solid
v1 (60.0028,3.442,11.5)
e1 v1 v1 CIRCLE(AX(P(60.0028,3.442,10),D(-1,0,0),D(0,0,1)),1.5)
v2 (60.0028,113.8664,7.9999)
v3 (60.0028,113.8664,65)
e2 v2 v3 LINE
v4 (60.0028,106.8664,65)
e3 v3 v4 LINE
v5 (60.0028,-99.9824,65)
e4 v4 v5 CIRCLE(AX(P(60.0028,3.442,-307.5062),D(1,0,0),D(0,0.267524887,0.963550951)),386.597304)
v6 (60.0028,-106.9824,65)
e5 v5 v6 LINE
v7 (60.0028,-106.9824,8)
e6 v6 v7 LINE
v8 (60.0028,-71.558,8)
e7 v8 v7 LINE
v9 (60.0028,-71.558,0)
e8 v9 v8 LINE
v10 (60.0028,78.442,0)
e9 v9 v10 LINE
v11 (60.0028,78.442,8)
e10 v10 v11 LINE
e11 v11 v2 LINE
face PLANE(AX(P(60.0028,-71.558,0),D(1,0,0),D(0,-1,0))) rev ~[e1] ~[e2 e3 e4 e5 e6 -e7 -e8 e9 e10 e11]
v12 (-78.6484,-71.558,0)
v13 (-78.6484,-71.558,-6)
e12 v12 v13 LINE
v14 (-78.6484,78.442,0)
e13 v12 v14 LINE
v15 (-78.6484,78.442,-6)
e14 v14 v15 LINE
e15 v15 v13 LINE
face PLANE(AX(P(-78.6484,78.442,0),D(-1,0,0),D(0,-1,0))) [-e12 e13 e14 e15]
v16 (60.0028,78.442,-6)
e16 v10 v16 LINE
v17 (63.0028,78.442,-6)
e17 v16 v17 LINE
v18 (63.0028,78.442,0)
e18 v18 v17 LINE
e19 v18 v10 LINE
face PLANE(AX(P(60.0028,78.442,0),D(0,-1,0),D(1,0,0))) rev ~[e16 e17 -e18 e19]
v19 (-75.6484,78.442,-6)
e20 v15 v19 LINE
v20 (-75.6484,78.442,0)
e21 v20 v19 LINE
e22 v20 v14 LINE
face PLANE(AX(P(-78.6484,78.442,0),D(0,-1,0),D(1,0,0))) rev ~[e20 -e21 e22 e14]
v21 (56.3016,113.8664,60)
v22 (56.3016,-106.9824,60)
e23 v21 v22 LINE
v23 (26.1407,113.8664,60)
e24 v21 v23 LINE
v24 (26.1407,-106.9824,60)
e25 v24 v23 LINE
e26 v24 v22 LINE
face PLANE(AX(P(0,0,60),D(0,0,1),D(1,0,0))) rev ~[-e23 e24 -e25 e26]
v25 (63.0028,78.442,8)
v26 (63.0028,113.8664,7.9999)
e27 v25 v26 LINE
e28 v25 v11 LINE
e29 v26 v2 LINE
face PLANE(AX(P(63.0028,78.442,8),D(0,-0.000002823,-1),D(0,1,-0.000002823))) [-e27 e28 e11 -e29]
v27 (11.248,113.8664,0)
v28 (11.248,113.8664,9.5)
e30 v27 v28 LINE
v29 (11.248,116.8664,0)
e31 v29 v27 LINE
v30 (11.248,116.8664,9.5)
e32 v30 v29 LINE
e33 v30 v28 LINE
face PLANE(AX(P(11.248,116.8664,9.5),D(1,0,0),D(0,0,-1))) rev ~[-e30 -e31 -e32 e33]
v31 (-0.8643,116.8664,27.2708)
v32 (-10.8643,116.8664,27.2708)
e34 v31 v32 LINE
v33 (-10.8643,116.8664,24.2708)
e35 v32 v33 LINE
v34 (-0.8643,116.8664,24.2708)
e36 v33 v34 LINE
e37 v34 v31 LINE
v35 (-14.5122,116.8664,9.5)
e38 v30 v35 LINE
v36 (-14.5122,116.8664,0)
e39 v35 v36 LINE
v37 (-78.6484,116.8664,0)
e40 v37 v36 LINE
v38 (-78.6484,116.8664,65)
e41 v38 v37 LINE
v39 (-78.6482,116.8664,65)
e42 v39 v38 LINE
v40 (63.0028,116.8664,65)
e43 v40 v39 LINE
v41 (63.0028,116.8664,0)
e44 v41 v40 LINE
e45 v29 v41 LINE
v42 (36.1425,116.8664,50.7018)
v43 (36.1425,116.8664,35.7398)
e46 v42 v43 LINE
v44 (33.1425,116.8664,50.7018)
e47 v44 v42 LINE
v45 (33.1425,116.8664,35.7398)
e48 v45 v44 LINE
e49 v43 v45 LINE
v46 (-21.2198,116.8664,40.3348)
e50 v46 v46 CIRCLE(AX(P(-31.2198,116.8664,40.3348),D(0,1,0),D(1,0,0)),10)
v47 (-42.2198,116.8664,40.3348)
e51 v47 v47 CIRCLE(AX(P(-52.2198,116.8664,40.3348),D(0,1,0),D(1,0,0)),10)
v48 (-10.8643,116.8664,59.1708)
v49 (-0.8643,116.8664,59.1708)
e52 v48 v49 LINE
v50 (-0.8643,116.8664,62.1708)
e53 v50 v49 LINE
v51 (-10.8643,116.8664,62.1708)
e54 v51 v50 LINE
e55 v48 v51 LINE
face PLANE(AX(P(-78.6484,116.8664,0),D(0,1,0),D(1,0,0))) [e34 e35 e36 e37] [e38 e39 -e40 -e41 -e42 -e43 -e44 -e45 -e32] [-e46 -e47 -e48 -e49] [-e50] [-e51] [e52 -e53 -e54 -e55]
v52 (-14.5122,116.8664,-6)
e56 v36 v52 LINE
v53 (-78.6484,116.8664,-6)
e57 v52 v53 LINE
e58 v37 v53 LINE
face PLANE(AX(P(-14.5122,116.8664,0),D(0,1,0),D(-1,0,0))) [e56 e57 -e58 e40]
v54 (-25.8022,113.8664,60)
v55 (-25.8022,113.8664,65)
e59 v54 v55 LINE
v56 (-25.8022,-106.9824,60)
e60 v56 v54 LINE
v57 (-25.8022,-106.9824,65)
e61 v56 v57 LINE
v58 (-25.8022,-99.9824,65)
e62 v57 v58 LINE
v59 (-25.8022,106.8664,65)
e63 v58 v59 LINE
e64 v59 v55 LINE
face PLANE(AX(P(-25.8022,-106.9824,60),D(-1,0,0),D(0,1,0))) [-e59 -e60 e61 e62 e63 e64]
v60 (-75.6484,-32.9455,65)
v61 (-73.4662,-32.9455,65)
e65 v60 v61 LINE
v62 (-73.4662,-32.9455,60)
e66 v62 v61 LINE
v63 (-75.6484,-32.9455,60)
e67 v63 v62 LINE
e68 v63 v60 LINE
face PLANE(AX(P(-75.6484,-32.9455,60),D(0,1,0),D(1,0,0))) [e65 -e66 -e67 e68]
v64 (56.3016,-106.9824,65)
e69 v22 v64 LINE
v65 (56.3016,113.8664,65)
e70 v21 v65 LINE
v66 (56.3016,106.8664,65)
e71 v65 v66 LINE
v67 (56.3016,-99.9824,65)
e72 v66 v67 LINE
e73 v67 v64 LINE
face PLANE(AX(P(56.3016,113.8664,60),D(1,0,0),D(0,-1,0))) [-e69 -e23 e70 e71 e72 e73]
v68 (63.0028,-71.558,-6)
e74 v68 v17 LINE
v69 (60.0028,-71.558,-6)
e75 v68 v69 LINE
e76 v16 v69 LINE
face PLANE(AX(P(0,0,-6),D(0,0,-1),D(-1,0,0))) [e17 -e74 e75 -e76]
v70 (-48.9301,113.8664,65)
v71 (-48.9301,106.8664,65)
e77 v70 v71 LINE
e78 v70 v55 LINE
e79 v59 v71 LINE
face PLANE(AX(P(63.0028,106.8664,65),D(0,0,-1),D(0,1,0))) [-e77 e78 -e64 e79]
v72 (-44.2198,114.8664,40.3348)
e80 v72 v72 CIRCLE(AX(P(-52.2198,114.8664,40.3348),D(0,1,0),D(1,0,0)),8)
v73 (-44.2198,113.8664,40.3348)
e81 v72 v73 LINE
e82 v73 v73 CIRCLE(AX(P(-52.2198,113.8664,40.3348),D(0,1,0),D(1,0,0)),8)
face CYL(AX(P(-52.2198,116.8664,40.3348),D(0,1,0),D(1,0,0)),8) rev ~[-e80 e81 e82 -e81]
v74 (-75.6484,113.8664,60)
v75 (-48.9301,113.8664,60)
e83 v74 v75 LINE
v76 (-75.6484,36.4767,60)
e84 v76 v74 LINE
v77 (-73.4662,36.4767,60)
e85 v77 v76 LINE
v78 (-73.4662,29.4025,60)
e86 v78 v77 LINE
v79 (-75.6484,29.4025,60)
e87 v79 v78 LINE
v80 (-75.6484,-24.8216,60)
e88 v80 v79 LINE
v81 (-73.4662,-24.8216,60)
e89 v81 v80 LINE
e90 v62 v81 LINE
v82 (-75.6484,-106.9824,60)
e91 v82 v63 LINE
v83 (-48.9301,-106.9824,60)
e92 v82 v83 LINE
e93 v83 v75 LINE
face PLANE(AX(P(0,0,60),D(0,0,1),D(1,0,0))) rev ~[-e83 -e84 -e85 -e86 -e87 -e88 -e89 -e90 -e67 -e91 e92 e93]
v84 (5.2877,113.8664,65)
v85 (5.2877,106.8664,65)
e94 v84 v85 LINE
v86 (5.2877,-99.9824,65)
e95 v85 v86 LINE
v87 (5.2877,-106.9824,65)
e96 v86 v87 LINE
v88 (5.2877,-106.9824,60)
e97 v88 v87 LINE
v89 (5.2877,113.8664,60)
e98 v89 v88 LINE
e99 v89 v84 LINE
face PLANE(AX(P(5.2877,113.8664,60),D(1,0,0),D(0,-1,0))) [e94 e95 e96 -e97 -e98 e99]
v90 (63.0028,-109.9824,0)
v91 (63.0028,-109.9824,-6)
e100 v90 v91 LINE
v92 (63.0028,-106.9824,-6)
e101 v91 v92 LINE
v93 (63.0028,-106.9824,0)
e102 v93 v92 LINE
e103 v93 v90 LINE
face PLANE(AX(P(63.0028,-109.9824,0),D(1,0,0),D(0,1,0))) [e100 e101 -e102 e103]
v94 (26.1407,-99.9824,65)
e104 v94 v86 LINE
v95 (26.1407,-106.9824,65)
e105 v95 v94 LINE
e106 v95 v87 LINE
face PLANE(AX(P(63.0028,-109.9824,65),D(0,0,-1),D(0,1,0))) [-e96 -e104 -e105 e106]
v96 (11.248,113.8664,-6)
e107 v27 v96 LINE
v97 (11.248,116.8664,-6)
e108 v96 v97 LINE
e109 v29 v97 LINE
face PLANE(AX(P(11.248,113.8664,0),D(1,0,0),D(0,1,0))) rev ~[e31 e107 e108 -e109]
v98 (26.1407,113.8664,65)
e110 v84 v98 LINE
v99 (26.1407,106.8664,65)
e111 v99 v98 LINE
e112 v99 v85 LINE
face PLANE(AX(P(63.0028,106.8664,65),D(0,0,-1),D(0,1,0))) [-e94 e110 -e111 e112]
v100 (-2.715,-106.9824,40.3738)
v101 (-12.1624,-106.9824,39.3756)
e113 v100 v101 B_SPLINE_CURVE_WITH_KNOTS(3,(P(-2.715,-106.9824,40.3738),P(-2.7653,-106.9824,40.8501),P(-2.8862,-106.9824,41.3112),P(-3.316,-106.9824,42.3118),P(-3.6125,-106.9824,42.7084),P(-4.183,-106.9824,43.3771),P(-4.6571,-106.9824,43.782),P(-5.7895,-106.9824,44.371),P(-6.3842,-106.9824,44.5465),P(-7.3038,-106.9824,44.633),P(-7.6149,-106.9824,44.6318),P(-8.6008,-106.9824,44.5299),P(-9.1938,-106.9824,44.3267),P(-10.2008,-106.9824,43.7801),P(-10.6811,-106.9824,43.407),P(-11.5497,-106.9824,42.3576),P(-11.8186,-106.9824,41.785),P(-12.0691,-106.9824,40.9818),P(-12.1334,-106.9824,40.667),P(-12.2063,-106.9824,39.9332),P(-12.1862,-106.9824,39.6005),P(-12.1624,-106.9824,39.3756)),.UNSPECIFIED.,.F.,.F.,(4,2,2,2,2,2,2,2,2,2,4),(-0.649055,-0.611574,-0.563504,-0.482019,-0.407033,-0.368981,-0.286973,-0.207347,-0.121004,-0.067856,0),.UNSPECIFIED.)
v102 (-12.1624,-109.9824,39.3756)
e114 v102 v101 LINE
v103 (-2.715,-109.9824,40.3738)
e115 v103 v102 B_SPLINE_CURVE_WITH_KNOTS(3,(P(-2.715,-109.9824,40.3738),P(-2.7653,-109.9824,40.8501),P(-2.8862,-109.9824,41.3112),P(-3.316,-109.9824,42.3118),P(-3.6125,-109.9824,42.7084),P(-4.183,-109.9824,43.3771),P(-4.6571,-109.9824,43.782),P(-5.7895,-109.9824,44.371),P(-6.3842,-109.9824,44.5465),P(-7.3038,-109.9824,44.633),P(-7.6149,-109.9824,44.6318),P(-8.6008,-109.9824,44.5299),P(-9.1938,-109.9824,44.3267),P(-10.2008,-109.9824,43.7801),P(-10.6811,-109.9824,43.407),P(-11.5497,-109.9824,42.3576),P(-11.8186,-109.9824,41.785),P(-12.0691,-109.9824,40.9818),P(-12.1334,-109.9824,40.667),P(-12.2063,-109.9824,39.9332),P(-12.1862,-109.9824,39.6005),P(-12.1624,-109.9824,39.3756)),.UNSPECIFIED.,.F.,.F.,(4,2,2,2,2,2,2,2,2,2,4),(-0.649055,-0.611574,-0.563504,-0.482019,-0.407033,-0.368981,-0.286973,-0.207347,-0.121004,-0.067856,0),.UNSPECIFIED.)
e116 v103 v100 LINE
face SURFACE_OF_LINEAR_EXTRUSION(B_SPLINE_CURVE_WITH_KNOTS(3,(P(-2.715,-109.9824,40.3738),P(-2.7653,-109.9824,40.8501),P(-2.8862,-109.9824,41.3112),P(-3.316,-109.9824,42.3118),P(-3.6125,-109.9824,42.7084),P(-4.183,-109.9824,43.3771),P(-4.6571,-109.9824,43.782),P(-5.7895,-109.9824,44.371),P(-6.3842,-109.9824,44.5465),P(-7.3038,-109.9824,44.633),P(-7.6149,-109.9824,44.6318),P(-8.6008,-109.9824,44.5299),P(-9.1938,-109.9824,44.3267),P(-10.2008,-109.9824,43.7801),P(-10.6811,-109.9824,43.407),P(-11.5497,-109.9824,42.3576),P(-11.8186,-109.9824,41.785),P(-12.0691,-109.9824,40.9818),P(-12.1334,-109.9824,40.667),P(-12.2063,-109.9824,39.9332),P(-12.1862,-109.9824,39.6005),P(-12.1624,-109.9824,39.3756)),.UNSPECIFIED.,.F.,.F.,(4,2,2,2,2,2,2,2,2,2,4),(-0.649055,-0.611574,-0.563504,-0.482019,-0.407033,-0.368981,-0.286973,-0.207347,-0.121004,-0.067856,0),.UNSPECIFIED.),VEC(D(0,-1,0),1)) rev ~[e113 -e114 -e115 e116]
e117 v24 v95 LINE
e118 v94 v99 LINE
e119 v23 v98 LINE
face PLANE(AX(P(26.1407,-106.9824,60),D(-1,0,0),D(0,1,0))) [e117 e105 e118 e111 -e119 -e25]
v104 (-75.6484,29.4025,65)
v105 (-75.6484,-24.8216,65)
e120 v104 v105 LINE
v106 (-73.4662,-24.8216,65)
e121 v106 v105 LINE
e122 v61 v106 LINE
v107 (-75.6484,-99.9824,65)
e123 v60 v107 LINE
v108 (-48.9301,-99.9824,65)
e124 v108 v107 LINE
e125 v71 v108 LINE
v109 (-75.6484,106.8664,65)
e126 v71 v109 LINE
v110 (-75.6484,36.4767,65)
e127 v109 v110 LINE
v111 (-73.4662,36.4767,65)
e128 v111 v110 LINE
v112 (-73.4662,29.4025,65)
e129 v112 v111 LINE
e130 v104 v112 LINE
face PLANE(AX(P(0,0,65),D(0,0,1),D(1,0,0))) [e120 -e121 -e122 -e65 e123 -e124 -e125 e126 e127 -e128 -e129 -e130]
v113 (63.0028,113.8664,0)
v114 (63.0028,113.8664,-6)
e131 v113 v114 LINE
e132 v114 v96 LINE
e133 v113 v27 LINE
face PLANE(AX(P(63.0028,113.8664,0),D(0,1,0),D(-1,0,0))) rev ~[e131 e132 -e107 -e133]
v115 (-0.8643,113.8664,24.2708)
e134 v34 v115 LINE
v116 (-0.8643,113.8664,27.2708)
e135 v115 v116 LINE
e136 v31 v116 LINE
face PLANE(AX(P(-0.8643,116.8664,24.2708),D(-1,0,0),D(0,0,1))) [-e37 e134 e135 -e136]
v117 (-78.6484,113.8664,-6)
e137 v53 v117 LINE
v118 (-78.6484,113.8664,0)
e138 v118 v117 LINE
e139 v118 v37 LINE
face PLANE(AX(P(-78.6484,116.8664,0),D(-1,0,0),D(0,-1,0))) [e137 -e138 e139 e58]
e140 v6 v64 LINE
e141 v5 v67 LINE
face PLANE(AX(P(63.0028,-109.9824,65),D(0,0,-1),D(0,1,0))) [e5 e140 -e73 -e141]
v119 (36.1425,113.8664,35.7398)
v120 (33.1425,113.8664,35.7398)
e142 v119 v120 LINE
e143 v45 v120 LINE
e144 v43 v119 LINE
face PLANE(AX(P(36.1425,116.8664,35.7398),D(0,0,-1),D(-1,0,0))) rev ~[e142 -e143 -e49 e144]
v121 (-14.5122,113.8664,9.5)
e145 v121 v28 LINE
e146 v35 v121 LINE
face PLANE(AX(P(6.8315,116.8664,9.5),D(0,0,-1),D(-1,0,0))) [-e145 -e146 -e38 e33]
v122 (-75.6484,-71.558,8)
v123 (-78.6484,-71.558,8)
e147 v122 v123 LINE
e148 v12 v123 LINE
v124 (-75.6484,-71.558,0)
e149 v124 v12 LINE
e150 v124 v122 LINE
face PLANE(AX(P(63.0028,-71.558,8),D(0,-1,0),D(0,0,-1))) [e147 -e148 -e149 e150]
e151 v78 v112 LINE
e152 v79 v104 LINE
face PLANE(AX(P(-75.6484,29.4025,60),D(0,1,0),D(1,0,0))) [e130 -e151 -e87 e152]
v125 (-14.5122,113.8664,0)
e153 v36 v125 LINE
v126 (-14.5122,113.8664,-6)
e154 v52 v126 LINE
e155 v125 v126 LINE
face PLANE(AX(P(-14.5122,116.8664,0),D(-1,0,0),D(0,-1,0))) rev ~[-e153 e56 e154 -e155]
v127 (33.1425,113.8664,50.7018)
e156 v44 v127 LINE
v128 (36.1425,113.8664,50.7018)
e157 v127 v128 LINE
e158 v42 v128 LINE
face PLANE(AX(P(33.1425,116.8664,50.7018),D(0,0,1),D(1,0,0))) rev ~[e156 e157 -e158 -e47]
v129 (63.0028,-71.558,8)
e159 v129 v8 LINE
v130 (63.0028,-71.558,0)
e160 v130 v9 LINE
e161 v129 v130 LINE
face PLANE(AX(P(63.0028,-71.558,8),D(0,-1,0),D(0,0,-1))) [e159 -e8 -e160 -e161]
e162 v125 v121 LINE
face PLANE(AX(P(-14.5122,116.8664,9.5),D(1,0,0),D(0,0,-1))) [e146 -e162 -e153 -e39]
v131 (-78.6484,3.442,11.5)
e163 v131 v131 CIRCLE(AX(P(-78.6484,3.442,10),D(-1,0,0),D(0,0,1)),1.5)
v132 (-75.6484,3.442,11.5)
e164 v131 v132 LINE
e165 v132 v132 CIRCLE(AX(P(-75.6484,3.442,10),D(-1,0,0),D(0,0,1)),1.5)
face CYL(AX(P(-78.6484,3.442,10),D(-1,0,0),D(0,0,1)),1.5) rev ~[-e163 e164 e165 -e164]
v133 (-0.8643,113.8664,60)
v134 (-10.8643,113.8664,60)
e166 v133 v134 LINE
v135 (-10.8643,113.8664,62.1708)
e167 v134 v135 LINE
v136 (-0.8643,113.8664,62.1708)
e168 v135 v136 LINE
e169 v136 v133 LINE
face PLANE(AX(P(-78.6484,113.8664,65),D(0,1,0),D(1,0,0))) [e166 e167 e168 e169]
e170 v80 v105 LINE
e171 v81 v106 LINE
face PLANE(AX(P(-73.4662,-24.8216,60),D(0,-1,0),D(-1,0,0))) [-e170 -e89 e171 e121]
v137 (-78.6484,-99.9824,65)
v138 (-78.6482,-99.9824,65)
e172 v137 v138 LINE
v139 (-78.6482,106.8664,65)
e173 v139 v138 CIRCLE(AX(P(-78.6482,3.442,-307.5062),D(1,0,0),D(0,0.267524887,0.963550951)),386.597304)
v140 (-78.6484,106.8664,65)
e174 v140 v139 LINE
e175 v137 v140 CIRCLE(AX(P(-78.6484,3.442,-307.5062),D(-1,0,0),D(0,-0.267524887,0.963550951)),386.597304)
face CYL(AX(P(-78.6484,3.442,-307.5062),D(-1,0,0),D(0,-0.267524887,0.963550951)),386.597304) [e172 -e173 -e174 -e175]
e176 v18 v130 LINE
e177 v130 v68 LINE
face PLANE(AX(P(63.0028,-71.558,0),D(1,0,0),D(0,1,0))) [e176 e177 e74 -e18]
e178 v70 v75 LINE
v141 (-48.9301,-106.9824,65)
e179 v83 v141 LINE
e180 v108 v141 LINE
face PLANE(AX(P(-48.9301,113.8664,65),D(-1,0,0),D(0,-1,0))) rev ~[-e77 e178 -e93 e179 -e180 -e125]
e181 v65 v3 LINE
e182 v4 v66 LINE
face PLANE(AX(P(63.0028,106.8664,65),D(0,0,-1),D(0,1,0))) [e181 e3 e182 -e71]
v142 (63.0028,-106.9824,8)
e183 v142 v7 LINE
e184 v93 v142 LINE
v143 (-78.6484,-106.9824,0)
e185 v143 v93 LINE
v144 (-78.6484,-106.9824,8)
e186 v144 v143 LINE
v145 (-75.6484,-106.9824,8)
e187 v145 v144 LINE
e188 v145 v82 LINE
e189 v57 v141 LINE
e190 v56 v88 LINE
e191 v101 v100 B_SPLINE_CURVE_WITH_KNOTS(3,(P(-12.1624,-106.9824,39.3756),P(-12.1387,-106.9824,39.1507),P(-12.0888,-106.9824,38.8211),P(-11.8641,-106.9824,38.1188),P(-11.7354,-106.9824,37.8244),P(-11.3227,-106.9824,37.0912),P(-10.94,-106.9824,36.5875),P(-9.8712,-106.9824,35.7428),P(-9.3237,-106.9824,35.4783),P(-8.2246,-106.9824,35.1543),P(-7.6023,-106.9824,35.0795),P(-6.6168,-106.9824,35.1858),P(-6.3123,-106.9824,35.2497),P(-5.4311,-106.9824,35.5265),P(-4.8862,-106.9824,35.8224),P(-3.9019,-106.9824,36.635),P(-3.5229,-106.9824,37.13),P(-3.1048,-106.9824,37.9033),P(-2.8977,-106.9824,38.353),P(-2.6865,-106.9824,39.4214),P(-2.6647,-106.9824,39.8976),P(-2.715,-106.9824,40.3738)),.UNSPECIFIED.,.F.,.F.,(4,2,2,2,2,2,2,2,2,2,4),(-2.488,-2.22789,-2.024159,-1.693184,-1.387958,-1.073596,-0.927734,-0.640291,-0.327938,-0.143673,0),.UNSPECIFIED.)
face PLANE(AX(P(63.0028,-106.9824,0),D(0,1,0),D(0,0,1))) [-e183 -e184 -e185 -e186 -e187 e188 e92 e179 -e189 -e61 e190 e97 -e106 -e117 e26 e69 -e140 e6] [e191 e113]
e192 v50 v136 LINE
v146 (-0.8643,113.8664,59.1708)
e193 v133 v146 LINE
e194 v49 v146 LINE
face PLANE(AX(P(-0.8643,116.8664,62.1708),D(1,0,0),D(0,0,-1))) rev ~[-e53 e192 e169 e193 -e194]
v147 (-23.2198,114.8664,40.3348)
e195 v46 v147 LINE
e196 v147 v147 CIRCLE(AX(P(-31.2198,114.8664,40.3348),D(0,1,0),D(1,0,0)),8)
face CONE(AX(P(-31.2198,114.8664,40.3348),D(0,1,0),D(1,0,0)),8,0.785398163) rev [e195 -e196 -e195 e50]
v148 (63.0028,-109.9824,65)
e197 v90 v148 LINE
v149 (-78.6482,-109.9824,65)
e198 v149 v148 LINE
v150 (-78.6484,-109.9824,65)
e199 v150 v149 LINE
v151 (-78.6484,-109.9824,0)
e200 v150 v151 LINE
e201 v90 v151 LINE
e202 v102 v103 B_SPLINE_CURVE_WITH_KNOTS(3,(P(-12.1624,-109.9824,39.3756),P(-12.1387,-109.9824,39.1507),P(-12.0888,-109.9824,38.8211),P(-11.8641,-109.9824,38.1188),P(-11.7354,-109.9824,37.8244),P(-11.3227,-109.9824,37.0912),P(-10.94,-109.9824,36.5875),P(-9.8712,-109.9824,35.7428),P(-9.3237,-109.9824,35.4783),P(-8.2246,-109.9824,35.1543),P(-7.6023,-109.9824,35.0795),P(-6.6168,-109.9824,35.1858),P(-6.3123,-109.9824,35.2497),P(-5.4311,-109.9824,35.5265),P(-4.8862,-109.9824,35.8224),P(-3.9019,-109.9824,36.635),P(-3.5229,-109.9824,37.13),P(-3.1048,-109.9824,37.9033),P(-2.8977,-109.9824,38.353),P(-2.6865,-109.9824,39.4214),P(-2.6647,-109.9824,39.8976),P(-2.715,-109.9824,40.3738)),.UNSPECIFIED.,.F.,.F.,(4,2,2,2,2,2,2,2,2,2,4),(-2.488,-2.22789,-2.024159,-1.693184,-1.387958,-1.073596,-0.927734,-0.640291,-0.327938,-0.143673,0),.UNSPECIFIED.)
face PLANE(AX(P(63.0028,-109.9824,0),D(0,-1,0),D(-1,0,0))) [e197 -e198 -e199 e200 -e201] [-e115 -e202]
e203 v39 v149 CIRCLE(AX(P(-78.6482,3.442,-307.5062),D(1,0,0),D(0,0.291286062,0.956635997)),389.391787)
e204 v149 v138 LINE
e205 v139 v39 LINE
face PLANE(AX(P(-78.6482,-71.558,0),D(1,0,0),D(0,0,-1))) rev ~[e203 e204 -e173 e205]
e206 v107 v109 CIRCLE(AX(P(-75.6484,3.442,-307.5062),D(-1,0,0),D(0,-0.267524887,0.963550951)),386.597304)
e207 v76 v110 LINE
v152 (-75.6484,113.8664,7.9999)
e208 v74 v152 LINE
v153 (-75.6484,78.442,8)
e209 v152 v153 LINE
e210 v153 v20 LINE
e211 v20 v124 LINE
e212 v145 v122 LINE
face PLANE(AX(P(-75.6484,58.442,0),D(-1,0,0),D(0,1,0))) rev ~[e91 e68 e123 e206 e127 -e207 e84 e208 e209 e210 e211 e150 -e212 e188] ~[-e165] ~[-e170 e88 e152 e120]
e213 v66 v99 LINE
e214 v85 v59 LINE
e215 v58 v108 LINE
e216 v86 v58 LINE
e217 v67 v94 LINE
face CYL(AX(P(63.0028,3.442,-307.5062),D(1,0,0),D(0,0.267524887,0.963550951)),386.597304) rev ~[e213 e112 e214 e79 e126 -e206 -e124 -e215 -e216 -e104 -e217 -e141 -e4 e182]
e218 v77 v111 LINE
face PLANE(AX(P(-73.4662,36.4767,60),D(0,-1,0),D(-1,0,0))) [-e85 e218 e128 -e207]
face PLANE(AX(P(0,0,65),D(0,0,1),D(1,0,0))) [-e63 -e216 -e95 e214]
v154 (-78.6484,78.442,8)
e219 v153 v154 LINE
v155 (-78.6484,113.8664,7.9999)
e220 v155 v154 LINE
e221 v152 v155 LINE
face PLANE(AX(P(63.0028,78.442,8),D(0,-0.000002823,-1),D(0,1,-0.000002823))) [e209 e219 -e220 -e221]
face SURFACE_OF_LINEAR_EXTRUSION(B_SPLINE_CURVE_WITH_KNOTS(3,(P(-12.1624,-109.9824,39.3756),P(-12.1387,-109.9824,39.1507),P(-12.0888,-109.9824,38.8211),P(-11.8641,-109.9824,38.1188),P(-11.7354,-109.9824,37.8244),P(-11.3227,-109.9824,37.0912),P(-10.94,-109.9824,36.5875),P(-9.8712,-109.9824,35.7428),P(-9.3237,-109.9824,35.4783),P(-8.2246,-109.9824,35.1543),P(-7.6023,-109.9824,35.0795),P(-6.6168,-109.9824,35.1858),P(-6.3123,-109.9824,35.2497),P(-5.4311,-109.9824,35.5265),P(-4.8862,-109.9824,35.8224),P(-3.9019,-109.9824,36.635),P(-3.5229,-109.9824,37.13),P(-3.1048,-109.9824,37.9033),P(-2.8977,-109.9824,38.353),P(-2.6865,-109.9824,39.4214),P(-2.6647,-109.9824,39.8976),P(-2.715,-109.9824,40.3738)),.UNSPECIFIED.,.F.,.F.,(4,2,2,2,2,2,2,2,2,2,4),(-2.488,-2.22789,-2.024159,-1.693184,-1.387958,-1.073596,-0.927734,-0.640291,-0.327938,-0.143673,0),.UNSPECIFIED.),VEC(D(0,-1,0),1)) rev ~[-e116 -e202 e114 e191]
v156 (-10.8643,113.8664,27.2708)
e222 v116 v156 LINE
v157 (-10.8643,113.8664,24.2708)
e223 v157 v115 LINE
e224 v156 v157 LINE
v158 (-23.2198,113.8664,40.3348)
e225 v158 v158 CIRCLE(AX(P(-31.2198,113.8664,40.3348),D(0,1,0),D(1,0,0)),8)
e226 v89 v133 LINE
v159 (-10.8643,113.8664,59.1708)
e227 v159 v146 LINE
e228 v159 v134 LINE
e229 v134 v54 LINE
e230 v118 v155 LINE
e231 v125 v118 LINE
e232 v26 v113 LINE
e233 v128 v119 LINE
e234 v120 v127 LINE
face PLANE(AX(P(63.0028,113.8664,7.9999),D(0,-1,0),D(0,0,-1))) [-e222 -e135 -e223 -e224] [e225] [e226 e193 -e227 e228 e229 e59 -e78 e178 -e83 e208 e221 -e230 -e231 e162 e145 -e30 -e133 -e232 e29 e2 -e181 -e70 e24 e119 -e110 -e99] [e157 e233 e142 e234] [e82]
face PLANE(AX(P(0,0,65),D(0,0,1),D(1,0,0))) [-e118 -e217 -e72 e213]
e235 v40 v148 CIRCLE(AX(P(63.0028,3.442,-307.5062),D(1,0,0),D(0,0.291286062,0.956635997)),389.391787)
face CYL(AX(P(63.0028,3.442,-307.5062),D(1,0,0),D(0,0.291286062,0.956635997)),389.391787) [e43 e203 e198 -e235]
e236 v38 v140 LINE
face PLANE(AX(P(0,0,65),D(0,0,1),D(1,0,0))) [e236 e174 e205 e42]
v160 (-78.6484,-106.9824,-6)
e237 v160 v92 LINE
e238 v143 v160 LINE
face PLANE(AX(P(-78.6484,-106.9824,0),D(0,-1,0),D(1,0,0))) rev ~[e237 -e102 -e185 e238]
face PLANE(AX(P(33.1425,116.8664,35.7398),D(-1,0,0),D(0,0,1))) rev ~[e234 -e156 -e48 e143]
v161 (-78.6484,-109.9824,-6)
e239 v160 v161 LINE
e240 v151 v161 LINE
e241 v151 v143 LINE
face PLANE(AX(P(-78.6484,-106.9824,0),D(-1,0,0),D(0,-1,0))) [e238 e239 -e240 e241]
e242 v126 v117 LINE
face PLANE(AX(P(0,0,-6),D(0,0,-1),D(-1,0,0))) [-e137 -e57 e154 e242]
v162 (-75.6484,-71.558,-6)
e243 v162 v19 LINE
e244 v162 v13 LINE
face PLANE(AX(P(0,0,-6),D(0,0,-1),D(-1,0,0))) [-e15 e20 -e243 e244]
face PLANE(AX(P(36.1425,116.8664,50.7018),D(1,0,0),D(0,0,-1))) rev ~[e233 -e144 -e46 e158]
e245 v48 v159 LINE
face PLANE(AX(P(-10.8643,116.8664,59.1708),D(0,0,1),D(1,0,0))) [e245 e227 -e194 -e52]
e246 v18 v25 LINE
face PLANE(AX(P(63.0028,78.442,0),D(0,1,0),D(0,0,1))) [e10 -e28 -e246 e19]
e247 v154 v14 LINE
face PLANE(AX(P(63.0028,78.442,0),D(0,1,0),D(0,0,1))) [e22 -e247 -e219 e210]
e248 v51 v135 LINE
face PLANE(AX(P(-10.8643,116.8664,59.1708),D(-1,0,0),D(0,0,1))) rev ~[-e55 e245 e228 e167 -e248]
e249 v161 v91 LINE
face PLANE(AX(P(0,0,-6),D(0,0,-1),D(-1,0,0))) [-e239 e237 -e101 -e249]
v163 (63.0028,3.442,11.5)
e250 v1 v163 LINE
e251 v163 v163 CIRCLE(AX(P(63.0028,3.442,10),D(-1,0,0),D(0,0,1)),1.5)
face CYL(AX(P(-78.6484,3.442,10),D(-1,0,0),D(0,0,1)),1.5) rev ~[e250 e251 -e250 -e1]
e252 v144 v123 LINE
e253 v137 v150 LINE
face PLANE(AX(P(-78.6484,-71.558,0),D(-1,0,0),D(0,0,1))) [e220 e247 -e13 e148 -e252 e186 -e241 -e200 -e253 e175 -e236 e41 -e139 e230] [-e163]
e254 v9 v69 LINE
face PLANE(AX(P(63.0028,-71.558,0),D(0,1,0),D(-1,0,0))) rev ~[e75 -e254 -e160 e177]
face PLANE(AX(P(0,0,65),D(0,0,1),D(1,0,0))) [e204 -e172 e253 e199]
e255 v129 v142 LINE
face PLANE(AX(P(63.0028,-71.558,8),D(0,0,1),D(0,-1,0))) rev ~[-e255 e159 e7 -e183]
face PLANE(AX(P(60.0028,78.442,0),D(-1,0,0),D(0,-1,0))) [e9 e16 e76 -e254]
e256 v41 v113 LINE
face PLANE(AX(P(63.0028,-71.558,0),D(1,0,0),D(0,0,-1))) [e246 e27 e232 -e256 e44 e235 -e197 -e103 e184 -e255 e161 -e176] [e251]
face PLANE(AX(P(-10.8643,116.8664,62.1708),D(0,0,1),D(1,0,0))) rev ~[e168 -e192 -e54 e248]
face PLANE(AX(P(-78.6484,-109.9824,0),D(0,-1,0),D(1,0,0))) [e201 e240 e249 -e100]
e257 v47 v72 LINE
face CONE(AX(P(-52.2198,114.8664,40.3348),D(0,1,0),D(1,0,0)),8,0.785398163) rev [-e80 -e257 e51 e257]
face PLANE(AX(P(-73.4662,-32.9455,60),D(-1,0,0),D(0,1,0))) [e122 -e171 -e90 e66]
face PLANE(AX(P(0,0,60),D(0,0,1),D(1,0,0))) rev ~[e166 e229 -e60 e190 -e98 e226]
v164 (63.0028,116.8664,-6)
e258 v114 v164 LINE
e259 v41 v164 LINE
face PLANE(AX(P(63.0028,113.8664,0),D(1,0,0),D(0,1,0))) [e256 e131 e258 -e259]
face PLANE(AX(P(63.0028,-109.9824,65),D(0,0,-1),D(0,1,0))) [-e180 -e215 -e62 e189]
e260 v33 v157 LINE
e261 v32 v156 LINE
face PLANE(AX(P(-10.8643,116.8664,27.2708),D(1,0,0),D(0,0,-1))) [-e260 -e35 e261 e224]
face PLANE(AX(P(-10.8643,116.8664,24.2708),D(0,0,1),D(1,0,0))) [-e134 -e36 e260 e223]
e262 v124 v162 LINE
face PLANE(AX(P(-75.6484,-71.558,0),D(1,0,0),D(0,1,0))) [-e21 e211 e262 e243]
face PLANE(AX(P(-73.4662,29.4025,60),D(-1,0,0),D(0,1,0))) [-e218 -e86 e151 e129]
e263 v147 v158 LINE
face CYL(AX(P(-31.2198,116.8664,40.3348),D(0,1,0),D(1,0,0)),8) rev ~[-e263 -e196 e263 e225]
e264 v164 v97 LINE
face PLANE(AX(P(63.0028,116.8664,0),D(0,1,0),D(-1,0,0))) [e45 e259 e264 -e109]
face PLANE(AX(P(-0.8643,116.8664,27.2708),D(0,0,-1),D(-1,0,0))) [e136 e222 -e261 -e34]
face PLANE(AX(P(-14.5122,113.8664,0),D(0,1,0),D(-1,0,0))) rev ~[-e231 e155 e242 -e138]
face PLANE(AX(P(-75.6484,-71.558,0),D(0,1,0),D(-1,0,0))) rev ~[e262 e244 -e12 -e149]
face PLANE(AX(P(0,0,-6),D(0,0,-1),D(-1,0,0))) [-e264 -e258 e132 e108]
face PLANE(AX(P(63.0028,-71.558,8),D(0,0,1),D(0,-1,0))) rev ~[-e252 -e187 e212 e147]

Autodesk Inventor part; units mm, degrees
ref_plane "YZ Plane" through (0, 0, 0) normal (1, 0, 0) x (0, 1, 0)
ref_plane "XZ Plane" through (0, 0, 0) normal (0, 1, 0) x (-1, 0, 0)
ref_plane "XY Plane" through (0, 0, 0) normal (0, 0, 1) x (1, 0, 0)
sketch "Эскиз1" plane through (0, 0, 0) normal (0, 0, 1) x (1, 0, 0)
  line L0 (-75.6484, -106.9824) -> (60.0028, -106.9824) projected
  line L1 (60.0028, 113.8664) -> (-75.6484, 113.8664) projected
  line L2 (-75.6484, -71.558) -> (-75.6484, 58.442) projected
  line L3 (60.0028, -71.558) -> (60.0028, 78.442) projected
  line L4 (63.0028, -109.9824) -> (-78.6484, -109.9824)
  line L5 (-78.6484, -109.9824) -> (-78.6484, 116.8664)
  line L6 (-78.6484, 116.8664) -> (63.0028, 116.8664)
  line L7 (63.0028, 116.8664) -> (63.0028, -109.9824)
  line L8 (60.0028, -106.9824) -> (-75.6484, -106.9824)
  line L9 (-75.6484, -106.9824) -> (-75.6484, 113.8664)
  line L10 (-75.6484, 113.8664) -> (60.0028, 113.8664)
  line L11 (60.0028, 113.8664) -> (60.0028, -106.9824)
  point P0 (0, 0)
  dimension "d0" = 3
  dimension "d1" = 3
  dimension "d2" = 3
  dimension "d3" = 3
extrude "Выдавливание1" add sketch "Эскиз1" along normal blind 60
sketch "Эскиз2" plane through (63.0028, -109.9824, 0) normal (1, 0, 0) x (0, 0, -1)
  point P0 (0, 109.9824)
sketch "Эскиз3" plane through (0, 0, 0) normal (0, 0, -1) x (-1, 0, 0)
  point P0 (0, 0)
sketch "Эскиз4" plane through (63.0028, -109.9824, 0) normal (1, 0, 0) x (0, 0, -1)
  line L0 (-8, 38.4244) -> (-8, 3) projected
  line L1 (-8, 3) -> (-8, 38.4244) projected
  line L2 (0.0001, 223.8488) -> (0, 188.4244) projected
  line L3 (-8, 188.4244) -> (-7.9999, 223.8488) projected
  line L4 (0, 223.8488) -> (0, 3) projected
  line L5 (-8, 38.4244) -> (0, 38.4244)
  line L6 (0, 38.4244) -> (0, 3)
  line L7 (0, 3) -> (-8, 3)
  line L8 (-8, 3) -> (-8, 38.4244)
  line L9 (-7.9999, 223.8488) -> (0, 223.8488)
  line L10 (0, 223.8488) -> (0, 188.4244)
  line L11 (0, 188.4244) -> (-7.9999, 188.4244)
  line L12 (-7.9999, 188.4244) -> (-7.9999, 223.8488)
  point P0 (0, 109.9824)
extrude "Выдавливание2" cut sketch "Эскиз4" against normal blind 239.25
sketch "Эскиз5" plane through (0, 0, 60) normal (0, 0, 1) x (1, 0, 0)
  line L0 (73.8028, -108.2777) -> (32.8028, -108.2777)
  line L1 (63.0028, 116.8664) -> (-78.6484, 116.8664) projected
  line L2 (-78.6484, 116.8664) -> (-78.6484, -109.9824) projected
  line L3 (-78.6484, -109.9824) -> (63.0028, -109.9824) projected
  line L4 (63.0028, -109.9824) -> (63.0028, 116.8664) projected
  line L5 (60.0028, 113.8664) -> (60.0028, -106.9824) projected
  line L6 (60.0028, -106.9824) -> (-75.6484, -106.9824) projected
  line L7 (-75.6484, -106.9824) -> (-75.6484, 113.8664) projected
  line L8 (-75.6484, 113.8664) -> (60.0028, 113.8664) projected
  line L9 (60.0028, -106.9824) -> (-75.6484, -106.9824) projected
  line L10 (-75.6484, 113.8664) -> (60.0028, 113.8664) projected
  line L11 (56.3016, -106.9824) -> (26.1407, -106.9824)
  line L12 (26.1407, -106.9824) -> (26.1407, 113.8664)
  line L13 (26.1407, 113.8664) -> (56.3016, 113.8664)
  line L14 (56.3016, 113.8664) -> (56.3016, -106.9824)
  line L15 (5.2877, -106.9824) -> (-25.8022, -106.9824)
  line L16 (-25.8022, -106.9824) -> (-25.8022, 113.8664)
  line L17 (-25.8022, 113.8664) -> (5.2877, 113.8664)
  line L18 (5.2877, 113.8664) -> (5.2877, -106.9824)
  line L19 (-48.9301, -106.9824) -> (-75.6484, -106.9824)
  line L20 (-75.6484, -106.9824) -> (-75.6484, 111.5008)
  line L21 (-75.6484, 111.5008) -> (-48.9301, 111.5008)
  line L22 (-48.9301, 111.5008) -> (-48.9301, -106.9824)
  line L23 (-75.6484, -106.9824) -> (-75.6484, 113.8664) projected
  line L24 (-75.6484, -32.9455) -> (-73.4662, -32.9455)
  line L25 (-73.4662, -32.9455) -> (-73.4662, -24.8216)
  line L26 (-73.4662, -24.8216) -> (-75.6484, -24.8216)
  line L27 (-75.6484, -24.8216) -> (-75.6484, -32.9455)
  line L28 (-75.6484, 29.4025) -> (-73.4662, 29.4025)
  line L29 (-73.4662, 29.4025) -> (-73.4662, 36.4767)
  line L30 (-73.4662, 36.4767) -> (-75.6484, 36.4767)
  line L31 (-75.6484, 36.4767) -> (-75.6484, 29.4025)
  point P0 (0, 0)
extrude "Выдавливание3" add sketch "Эскиз5" along normal blind 5 contours L4 L3 L2 L1 | L14 L6 L12 L8 | L18 L6 L16 L8 | L6 L7 L24 L25 L26 L28 L29 L30 L21 L22
sketch "Эскиз6" plane through (0, 0, 65) normal (0, 0, 1) x (1, 0, 0)
  line L0 (-48.9301, 111.5008) -> (-75.6484, 111.5008) projected
  line L1 (-75.6484, 111.5008) -> (-75.6484, 113.8664) projected
  line L2 (-48.9301, 111.5008) -> (-75.6484, 111.5008)
  line L3 (-75.6484, 111.5008) -> (-75.6484, 113.8664)
  line L4 (-75.6484, 113.8664) -> (-48.9301, 113.8664)
  line L5 (-48.9301, 113.8664) -> (-48.9301, 111.5008)
  point P0 (0, 0)
extrude "Выдавливание4" add sketch "Эскиз6" against normal blind 5
sketch "Эскиз7" plane through (-78.6484, -71.558, 0) normal (-1, 0, 0) x (0, 0, 1)
  point P0 (0, 71.558)
sketch "Эскиз8" plane through (-78.6484, 116.8664, 0) normal (0, 1, 0) x (1, 0, 0)
  line L0 (85.4799, -9.5) -> (62.4799, -9.5) projected
  line L1 (74.1362, -4.2225) -> (79.8964, -4.2225) projected
  line L2 (141.6512, 0) -> (0, 0) projected
  line L3 (85.4799, -9.5) -> (64.1362, -9.5)
  line L4 (64.1362, -9.5) -> (64.1362, 0)
  line L5 (64.1362, 0) -> (85.4799, 0)
  line L6 (85.4799, 0) -> (85.4799, -9.5)
  line L7 (64.1362, -9.5) -> (89.8964, -9.5)
  line L8 (89.8964, -9.5) -> (89.8964, 0)
  line L9 (89.8964, 0) -> (64.1362, 0)
  line L10 (64.1362, 0) -> (64.1362, -9.5)
  point P0 (78.6484, 0)
  dimension "d12" = 10
  dimension "d13" = 5.584
  dimension "d14" = 10
extrude "Выдавливание5" cut sketch "Эскиз8" against normal blind 5
sketch "Эскиз9" plane through (63.0028, -71.558, 0) normal (1, 0, 0) x (0, 0, -1)
  line L0 (-65, -38.4244) -> (-65, 188.4244) projected
  arc A0 (-65, 188.4244) -> (-65, -38.4244) centre (307.5062, 75) ccw
  line L1 (0, -38.4244) -> (-65, -38.4244) projected
  line L2 (-65, -38.4244) -> (-65, -28.4244)
  line L3 (-65, -28.4244) -> (-65, 178.4244)
  arc A1 (-65, 178.4244) -> (-65, -28.4244) centre (307.5062, 75) ccw
  point P0 (0, 71.558)
  dimension "d17" = 10
  dimension "d18" = 10
extrude "Выдавливание6" add sketch "Эскиз9" against normal blind 141.651 contours A0 L0 A1
sketch "Эскиз10" plane through (63.0028, -71.558, 0) normal (1, 0, 0) x (0, 0, -1)
  arc A0 (-65, 178.4244) -> (-65, -28.4244) centre (307.5062, 75) ccw projected
  line L0 (-65, -28.4244) -> (-65, 178.4244) projected
  point P0 (0, 71.558)
extrude "Выдавливание7" add sketch "Эскиз10" against normal blind 3
sketch "Эскиз11" plane through (-78.6484, -71.558, 0) normal (-1, 0, 0) x (0, 0, 1)
  arc A0 (65, -28.4244) -> (65, 178.4244) centre (-307.5062, 75) ccw projected
  line L0 (65, 188.4244) -> (65, -38.4244) projected
  point P0 (0, 71.558)
extrude "Выдавливание8" add sketch "Эскиз11" against normal blind 3
sketch "Эскиз12" plane through (-78.6484, -109.9824, 0) normal (0, -1, 0) x (1, 0, 0)
  spline S0 degree 3 poles (75.9334, 40.3738) (75.8831, 40.8501) (75.7622, 41.3112) (75.3324, 42.3118) (75.0359, 42.7084) (74.4654, 43.3771) (73.9913, 43.782) (72.8589, 44.371) (72.2642, 44.5465) (71.3446, 44.633) (71.0335, 44.6318) (70.0476, 44.5299) (69.4546, 44.3267) (68.4476, 43.7801) (67.9673, 43.407) (67.0987, 42.3576) (66.8298, 41.785) (66.5793, 40.9818) (66.515, 40.667) (66.4421, 39.9332) (66.4622, 39.6005) (66.486, 39.3756) knots -0.649055 -0.649055 -0.649055 -0.649055 -0.611574 -0.611574 -0.563504 -0.563504 -0.482019 -0.482019 -0.407033 -0.407033 -0.368981 -0.368981 -0.286973 -0.286973 -0.207347 -0.207347 -0.121004 -0.121004 -0.067856 -0.067856 0 0 0 0 projected
  spline S1 degree 3 poles (66.486, 39.3756) (66.5097, 39.1507) (66.5596, 38.8211) (66.7843, 38.1188) (66.913, 37.8244) (67.3257, 37.0912) (67.7084, 36.5875) (68.7772, 35.7428) (69.3247, 35.4783) (70.4238, 35.1543) (71.0461, 35.0795) (72.0316, 35.1858) (72.3361, 35.2497) (73.2173, 35.5265) (73.7622, 35.8224) (74.7465, 36.635) (75.1255, 37.13) (75.5436, 37.9033) (75.7507, 38.353) (75.9619, 39.4214) (75.9837, 39.8976) (75.9334, 40.3738) knots -2.488 -2.488 -2.488 -2.488 -2.22789 -2.22789 -2.024159 -2.024159 -1.693184 -1.693184 -1.387958 -1.387958 -1.073596 -1.073596 -0.927734 -0.927734 -0.640291 -0.640291 -0.327938 -0.327938 -0.143673 -0.143673 0 0 0 0 projected
  point P0 (78.6484, 0)
extrude "Выдавливание9" cut sketch "Эскиз12" against normal blind 3
sketch "Эскиз13" plane through (-78.6484, 116.8664, 65) normal (0, 1, 0) x (1, 0, 0)
  line L0 (49.8619, 5.8292) -> (89.8619, 5.8292) projected
  line L1 (89.8619, 37.7292) -> (49.8619, 37.7292) projected
  line L2 (101.9119, 18.2982) -> (101.9119, 14.2982) projected
  line L3 (101.9119, 29.2602) -> (101.9119, 25.2602) projected
  line L4 (77.7841, 5.8292) -> (67.7841, 5.8292)
  line L5 (67.7841, 5.8292) -> (67.7841, 2.8292)
  line L6 (67.7841, 2.8292) -> (77.7841, 2.8292)
  line L7 (77.7841, 2.8292) -> (77.7841, 5.8292)
  line L8 (77.7841, 37.7292) -> (67.7841, 37.7292)
  line L9 (67.7841, 37.7292) -> (67.7841, 40.7292)
  line L10 (67.7841, 40.7292) -> (77.7841, 40.7292)
  line L11 (77.7841, 40.7292) -> (77.7841, 37.7292)
  line L12 (111.7909, 14.2982) -> (114.7909, 14.2982)
  line L13 (114.7909, 14.2982) -> (114.7909, 29.2602)
  line L14 (114.7909, 29.2602) -> (111.7909, 29.2602)
  line L15 (111.7909, 29.2602) -> (111.7909, 14.2982)
  point P0 (78.6484, 65)
  point P1 (67.7841, 5.8292)
  dimension "d27" = 10
  dimension "d28" = 3
  dimension "d29" = 3
  dimension "d30" = 3
extrude "Выдавливание10" cut sketch "Эскиз13" against normal blind 3
sketch "Эскиз14" plane through (-78.6484, 116.8664, 65) normal (0, 1, 0) x (1, 0, 0)
  circle A0 centre (26.4286, 24.6652) radius 8
  circle A1 centre (47.4286, 24.6652) radius 8
  point P0 (78.6484, 65)
  dimension "d33" = 16
  dimension "d45" = 16
  dimension "d46" = 21
extrude "Выдавливание11" cut sketch "Эскиз14" against normal blind 3
chamfer "Фаска1" distance 2 angle 45 1 edges at (-60.2198, 116.8664, 40.3348)
sketch "Эскиз15" plane through (-78.6484, -71.558, 0) normal (-1, 0, 0) x (0, 0, 1)
  line L0 (-6, 73) -> (-6, 77) projected
  line L1 (-6, 73) -> (-6, 77) projected
  circle A0 centre (10, 75) radius 1.5
  line L2 (0, 150) -> (0, 0) projected
  point P0 (0, 71.558)
  dimension "d39" = 3
  dimension "d40" = 10
extrude "Выдавливание12" cut sketch "Эскиз15" against normal blind 560
sketch "Эскиз16" plane through (0, 0, 0) normal (0, 0, -1) x (-1, 0, 0)
  line L0 (75.6484, -71.558) -> (78.6484, -71.558) projected
  line L1 (78.6484, 78.442) -> (78.6484, -71.558) projected
  line L2 (78.6484, 78.442) -> (75.6484, 78.442) projected
  line L3 (75.6484, -71.558) -> (75.6484, 78.442) projected
  line L4 (-63.0028, -71.558) -> (-60.0028, -71.558) projected
  line L5 (-60.0028, 78.442) -> (-60.0028, -71.558) projected
  line L6 (-60.0028, 78.442) -> (-63.0028, 78.442) projected
  line L7 (-63.0028, -71.558) -> (-63.0028, 78.442) projected
  line L8 (78.6484, -106.9824) -> (-63.0028, -106.9824) projected
  line L9 (-63.0028, -109.9824) -> (-63.0028, -106.9824) projected
  line L10 (78.6484, -109.9824) -> (-63.0028, -109.9824) projected
  line L11 (78.6484, -106.9824) -> (78.6484, -109.9824) projected
  line L12 (-11.248, 113.8664) -> (-11.248, 116.8664) projected
  line L13 (-63.0028, 116.8664) -> (-11.248, 116.8664) projected
  line L14 (-63.0028, 113.8664) -> (-63.0028, 116.8664) projected
  line L15 (-63.0028, 113.8664) -> (-11.248, 113.8664) projected
  line L16 (14.5122, 116.8664) -> (14.5122, 113.8664) projected
  line L17 (14.5122, 113.8664) -> (78.6484, 113.8664) projected
  line L18 (78.6484, 116.8664) -> (78.6484, 113.8664) projected
  line L19 (14.5122, 116.8664) -> (78.6484, 116.8664) projected
  point P0 (0, 0)
extrude "Выдавливание13" add sketch "Эскиз16" along normal blind 6
chamfer "Фаска2" distance 2 angle 45 1 edges at (-39.2198, 116.8664, 40.3348)
equation "\"d2\" = d1"
equation "\"d3\" = d0"
properties part number "3Dkrish"
